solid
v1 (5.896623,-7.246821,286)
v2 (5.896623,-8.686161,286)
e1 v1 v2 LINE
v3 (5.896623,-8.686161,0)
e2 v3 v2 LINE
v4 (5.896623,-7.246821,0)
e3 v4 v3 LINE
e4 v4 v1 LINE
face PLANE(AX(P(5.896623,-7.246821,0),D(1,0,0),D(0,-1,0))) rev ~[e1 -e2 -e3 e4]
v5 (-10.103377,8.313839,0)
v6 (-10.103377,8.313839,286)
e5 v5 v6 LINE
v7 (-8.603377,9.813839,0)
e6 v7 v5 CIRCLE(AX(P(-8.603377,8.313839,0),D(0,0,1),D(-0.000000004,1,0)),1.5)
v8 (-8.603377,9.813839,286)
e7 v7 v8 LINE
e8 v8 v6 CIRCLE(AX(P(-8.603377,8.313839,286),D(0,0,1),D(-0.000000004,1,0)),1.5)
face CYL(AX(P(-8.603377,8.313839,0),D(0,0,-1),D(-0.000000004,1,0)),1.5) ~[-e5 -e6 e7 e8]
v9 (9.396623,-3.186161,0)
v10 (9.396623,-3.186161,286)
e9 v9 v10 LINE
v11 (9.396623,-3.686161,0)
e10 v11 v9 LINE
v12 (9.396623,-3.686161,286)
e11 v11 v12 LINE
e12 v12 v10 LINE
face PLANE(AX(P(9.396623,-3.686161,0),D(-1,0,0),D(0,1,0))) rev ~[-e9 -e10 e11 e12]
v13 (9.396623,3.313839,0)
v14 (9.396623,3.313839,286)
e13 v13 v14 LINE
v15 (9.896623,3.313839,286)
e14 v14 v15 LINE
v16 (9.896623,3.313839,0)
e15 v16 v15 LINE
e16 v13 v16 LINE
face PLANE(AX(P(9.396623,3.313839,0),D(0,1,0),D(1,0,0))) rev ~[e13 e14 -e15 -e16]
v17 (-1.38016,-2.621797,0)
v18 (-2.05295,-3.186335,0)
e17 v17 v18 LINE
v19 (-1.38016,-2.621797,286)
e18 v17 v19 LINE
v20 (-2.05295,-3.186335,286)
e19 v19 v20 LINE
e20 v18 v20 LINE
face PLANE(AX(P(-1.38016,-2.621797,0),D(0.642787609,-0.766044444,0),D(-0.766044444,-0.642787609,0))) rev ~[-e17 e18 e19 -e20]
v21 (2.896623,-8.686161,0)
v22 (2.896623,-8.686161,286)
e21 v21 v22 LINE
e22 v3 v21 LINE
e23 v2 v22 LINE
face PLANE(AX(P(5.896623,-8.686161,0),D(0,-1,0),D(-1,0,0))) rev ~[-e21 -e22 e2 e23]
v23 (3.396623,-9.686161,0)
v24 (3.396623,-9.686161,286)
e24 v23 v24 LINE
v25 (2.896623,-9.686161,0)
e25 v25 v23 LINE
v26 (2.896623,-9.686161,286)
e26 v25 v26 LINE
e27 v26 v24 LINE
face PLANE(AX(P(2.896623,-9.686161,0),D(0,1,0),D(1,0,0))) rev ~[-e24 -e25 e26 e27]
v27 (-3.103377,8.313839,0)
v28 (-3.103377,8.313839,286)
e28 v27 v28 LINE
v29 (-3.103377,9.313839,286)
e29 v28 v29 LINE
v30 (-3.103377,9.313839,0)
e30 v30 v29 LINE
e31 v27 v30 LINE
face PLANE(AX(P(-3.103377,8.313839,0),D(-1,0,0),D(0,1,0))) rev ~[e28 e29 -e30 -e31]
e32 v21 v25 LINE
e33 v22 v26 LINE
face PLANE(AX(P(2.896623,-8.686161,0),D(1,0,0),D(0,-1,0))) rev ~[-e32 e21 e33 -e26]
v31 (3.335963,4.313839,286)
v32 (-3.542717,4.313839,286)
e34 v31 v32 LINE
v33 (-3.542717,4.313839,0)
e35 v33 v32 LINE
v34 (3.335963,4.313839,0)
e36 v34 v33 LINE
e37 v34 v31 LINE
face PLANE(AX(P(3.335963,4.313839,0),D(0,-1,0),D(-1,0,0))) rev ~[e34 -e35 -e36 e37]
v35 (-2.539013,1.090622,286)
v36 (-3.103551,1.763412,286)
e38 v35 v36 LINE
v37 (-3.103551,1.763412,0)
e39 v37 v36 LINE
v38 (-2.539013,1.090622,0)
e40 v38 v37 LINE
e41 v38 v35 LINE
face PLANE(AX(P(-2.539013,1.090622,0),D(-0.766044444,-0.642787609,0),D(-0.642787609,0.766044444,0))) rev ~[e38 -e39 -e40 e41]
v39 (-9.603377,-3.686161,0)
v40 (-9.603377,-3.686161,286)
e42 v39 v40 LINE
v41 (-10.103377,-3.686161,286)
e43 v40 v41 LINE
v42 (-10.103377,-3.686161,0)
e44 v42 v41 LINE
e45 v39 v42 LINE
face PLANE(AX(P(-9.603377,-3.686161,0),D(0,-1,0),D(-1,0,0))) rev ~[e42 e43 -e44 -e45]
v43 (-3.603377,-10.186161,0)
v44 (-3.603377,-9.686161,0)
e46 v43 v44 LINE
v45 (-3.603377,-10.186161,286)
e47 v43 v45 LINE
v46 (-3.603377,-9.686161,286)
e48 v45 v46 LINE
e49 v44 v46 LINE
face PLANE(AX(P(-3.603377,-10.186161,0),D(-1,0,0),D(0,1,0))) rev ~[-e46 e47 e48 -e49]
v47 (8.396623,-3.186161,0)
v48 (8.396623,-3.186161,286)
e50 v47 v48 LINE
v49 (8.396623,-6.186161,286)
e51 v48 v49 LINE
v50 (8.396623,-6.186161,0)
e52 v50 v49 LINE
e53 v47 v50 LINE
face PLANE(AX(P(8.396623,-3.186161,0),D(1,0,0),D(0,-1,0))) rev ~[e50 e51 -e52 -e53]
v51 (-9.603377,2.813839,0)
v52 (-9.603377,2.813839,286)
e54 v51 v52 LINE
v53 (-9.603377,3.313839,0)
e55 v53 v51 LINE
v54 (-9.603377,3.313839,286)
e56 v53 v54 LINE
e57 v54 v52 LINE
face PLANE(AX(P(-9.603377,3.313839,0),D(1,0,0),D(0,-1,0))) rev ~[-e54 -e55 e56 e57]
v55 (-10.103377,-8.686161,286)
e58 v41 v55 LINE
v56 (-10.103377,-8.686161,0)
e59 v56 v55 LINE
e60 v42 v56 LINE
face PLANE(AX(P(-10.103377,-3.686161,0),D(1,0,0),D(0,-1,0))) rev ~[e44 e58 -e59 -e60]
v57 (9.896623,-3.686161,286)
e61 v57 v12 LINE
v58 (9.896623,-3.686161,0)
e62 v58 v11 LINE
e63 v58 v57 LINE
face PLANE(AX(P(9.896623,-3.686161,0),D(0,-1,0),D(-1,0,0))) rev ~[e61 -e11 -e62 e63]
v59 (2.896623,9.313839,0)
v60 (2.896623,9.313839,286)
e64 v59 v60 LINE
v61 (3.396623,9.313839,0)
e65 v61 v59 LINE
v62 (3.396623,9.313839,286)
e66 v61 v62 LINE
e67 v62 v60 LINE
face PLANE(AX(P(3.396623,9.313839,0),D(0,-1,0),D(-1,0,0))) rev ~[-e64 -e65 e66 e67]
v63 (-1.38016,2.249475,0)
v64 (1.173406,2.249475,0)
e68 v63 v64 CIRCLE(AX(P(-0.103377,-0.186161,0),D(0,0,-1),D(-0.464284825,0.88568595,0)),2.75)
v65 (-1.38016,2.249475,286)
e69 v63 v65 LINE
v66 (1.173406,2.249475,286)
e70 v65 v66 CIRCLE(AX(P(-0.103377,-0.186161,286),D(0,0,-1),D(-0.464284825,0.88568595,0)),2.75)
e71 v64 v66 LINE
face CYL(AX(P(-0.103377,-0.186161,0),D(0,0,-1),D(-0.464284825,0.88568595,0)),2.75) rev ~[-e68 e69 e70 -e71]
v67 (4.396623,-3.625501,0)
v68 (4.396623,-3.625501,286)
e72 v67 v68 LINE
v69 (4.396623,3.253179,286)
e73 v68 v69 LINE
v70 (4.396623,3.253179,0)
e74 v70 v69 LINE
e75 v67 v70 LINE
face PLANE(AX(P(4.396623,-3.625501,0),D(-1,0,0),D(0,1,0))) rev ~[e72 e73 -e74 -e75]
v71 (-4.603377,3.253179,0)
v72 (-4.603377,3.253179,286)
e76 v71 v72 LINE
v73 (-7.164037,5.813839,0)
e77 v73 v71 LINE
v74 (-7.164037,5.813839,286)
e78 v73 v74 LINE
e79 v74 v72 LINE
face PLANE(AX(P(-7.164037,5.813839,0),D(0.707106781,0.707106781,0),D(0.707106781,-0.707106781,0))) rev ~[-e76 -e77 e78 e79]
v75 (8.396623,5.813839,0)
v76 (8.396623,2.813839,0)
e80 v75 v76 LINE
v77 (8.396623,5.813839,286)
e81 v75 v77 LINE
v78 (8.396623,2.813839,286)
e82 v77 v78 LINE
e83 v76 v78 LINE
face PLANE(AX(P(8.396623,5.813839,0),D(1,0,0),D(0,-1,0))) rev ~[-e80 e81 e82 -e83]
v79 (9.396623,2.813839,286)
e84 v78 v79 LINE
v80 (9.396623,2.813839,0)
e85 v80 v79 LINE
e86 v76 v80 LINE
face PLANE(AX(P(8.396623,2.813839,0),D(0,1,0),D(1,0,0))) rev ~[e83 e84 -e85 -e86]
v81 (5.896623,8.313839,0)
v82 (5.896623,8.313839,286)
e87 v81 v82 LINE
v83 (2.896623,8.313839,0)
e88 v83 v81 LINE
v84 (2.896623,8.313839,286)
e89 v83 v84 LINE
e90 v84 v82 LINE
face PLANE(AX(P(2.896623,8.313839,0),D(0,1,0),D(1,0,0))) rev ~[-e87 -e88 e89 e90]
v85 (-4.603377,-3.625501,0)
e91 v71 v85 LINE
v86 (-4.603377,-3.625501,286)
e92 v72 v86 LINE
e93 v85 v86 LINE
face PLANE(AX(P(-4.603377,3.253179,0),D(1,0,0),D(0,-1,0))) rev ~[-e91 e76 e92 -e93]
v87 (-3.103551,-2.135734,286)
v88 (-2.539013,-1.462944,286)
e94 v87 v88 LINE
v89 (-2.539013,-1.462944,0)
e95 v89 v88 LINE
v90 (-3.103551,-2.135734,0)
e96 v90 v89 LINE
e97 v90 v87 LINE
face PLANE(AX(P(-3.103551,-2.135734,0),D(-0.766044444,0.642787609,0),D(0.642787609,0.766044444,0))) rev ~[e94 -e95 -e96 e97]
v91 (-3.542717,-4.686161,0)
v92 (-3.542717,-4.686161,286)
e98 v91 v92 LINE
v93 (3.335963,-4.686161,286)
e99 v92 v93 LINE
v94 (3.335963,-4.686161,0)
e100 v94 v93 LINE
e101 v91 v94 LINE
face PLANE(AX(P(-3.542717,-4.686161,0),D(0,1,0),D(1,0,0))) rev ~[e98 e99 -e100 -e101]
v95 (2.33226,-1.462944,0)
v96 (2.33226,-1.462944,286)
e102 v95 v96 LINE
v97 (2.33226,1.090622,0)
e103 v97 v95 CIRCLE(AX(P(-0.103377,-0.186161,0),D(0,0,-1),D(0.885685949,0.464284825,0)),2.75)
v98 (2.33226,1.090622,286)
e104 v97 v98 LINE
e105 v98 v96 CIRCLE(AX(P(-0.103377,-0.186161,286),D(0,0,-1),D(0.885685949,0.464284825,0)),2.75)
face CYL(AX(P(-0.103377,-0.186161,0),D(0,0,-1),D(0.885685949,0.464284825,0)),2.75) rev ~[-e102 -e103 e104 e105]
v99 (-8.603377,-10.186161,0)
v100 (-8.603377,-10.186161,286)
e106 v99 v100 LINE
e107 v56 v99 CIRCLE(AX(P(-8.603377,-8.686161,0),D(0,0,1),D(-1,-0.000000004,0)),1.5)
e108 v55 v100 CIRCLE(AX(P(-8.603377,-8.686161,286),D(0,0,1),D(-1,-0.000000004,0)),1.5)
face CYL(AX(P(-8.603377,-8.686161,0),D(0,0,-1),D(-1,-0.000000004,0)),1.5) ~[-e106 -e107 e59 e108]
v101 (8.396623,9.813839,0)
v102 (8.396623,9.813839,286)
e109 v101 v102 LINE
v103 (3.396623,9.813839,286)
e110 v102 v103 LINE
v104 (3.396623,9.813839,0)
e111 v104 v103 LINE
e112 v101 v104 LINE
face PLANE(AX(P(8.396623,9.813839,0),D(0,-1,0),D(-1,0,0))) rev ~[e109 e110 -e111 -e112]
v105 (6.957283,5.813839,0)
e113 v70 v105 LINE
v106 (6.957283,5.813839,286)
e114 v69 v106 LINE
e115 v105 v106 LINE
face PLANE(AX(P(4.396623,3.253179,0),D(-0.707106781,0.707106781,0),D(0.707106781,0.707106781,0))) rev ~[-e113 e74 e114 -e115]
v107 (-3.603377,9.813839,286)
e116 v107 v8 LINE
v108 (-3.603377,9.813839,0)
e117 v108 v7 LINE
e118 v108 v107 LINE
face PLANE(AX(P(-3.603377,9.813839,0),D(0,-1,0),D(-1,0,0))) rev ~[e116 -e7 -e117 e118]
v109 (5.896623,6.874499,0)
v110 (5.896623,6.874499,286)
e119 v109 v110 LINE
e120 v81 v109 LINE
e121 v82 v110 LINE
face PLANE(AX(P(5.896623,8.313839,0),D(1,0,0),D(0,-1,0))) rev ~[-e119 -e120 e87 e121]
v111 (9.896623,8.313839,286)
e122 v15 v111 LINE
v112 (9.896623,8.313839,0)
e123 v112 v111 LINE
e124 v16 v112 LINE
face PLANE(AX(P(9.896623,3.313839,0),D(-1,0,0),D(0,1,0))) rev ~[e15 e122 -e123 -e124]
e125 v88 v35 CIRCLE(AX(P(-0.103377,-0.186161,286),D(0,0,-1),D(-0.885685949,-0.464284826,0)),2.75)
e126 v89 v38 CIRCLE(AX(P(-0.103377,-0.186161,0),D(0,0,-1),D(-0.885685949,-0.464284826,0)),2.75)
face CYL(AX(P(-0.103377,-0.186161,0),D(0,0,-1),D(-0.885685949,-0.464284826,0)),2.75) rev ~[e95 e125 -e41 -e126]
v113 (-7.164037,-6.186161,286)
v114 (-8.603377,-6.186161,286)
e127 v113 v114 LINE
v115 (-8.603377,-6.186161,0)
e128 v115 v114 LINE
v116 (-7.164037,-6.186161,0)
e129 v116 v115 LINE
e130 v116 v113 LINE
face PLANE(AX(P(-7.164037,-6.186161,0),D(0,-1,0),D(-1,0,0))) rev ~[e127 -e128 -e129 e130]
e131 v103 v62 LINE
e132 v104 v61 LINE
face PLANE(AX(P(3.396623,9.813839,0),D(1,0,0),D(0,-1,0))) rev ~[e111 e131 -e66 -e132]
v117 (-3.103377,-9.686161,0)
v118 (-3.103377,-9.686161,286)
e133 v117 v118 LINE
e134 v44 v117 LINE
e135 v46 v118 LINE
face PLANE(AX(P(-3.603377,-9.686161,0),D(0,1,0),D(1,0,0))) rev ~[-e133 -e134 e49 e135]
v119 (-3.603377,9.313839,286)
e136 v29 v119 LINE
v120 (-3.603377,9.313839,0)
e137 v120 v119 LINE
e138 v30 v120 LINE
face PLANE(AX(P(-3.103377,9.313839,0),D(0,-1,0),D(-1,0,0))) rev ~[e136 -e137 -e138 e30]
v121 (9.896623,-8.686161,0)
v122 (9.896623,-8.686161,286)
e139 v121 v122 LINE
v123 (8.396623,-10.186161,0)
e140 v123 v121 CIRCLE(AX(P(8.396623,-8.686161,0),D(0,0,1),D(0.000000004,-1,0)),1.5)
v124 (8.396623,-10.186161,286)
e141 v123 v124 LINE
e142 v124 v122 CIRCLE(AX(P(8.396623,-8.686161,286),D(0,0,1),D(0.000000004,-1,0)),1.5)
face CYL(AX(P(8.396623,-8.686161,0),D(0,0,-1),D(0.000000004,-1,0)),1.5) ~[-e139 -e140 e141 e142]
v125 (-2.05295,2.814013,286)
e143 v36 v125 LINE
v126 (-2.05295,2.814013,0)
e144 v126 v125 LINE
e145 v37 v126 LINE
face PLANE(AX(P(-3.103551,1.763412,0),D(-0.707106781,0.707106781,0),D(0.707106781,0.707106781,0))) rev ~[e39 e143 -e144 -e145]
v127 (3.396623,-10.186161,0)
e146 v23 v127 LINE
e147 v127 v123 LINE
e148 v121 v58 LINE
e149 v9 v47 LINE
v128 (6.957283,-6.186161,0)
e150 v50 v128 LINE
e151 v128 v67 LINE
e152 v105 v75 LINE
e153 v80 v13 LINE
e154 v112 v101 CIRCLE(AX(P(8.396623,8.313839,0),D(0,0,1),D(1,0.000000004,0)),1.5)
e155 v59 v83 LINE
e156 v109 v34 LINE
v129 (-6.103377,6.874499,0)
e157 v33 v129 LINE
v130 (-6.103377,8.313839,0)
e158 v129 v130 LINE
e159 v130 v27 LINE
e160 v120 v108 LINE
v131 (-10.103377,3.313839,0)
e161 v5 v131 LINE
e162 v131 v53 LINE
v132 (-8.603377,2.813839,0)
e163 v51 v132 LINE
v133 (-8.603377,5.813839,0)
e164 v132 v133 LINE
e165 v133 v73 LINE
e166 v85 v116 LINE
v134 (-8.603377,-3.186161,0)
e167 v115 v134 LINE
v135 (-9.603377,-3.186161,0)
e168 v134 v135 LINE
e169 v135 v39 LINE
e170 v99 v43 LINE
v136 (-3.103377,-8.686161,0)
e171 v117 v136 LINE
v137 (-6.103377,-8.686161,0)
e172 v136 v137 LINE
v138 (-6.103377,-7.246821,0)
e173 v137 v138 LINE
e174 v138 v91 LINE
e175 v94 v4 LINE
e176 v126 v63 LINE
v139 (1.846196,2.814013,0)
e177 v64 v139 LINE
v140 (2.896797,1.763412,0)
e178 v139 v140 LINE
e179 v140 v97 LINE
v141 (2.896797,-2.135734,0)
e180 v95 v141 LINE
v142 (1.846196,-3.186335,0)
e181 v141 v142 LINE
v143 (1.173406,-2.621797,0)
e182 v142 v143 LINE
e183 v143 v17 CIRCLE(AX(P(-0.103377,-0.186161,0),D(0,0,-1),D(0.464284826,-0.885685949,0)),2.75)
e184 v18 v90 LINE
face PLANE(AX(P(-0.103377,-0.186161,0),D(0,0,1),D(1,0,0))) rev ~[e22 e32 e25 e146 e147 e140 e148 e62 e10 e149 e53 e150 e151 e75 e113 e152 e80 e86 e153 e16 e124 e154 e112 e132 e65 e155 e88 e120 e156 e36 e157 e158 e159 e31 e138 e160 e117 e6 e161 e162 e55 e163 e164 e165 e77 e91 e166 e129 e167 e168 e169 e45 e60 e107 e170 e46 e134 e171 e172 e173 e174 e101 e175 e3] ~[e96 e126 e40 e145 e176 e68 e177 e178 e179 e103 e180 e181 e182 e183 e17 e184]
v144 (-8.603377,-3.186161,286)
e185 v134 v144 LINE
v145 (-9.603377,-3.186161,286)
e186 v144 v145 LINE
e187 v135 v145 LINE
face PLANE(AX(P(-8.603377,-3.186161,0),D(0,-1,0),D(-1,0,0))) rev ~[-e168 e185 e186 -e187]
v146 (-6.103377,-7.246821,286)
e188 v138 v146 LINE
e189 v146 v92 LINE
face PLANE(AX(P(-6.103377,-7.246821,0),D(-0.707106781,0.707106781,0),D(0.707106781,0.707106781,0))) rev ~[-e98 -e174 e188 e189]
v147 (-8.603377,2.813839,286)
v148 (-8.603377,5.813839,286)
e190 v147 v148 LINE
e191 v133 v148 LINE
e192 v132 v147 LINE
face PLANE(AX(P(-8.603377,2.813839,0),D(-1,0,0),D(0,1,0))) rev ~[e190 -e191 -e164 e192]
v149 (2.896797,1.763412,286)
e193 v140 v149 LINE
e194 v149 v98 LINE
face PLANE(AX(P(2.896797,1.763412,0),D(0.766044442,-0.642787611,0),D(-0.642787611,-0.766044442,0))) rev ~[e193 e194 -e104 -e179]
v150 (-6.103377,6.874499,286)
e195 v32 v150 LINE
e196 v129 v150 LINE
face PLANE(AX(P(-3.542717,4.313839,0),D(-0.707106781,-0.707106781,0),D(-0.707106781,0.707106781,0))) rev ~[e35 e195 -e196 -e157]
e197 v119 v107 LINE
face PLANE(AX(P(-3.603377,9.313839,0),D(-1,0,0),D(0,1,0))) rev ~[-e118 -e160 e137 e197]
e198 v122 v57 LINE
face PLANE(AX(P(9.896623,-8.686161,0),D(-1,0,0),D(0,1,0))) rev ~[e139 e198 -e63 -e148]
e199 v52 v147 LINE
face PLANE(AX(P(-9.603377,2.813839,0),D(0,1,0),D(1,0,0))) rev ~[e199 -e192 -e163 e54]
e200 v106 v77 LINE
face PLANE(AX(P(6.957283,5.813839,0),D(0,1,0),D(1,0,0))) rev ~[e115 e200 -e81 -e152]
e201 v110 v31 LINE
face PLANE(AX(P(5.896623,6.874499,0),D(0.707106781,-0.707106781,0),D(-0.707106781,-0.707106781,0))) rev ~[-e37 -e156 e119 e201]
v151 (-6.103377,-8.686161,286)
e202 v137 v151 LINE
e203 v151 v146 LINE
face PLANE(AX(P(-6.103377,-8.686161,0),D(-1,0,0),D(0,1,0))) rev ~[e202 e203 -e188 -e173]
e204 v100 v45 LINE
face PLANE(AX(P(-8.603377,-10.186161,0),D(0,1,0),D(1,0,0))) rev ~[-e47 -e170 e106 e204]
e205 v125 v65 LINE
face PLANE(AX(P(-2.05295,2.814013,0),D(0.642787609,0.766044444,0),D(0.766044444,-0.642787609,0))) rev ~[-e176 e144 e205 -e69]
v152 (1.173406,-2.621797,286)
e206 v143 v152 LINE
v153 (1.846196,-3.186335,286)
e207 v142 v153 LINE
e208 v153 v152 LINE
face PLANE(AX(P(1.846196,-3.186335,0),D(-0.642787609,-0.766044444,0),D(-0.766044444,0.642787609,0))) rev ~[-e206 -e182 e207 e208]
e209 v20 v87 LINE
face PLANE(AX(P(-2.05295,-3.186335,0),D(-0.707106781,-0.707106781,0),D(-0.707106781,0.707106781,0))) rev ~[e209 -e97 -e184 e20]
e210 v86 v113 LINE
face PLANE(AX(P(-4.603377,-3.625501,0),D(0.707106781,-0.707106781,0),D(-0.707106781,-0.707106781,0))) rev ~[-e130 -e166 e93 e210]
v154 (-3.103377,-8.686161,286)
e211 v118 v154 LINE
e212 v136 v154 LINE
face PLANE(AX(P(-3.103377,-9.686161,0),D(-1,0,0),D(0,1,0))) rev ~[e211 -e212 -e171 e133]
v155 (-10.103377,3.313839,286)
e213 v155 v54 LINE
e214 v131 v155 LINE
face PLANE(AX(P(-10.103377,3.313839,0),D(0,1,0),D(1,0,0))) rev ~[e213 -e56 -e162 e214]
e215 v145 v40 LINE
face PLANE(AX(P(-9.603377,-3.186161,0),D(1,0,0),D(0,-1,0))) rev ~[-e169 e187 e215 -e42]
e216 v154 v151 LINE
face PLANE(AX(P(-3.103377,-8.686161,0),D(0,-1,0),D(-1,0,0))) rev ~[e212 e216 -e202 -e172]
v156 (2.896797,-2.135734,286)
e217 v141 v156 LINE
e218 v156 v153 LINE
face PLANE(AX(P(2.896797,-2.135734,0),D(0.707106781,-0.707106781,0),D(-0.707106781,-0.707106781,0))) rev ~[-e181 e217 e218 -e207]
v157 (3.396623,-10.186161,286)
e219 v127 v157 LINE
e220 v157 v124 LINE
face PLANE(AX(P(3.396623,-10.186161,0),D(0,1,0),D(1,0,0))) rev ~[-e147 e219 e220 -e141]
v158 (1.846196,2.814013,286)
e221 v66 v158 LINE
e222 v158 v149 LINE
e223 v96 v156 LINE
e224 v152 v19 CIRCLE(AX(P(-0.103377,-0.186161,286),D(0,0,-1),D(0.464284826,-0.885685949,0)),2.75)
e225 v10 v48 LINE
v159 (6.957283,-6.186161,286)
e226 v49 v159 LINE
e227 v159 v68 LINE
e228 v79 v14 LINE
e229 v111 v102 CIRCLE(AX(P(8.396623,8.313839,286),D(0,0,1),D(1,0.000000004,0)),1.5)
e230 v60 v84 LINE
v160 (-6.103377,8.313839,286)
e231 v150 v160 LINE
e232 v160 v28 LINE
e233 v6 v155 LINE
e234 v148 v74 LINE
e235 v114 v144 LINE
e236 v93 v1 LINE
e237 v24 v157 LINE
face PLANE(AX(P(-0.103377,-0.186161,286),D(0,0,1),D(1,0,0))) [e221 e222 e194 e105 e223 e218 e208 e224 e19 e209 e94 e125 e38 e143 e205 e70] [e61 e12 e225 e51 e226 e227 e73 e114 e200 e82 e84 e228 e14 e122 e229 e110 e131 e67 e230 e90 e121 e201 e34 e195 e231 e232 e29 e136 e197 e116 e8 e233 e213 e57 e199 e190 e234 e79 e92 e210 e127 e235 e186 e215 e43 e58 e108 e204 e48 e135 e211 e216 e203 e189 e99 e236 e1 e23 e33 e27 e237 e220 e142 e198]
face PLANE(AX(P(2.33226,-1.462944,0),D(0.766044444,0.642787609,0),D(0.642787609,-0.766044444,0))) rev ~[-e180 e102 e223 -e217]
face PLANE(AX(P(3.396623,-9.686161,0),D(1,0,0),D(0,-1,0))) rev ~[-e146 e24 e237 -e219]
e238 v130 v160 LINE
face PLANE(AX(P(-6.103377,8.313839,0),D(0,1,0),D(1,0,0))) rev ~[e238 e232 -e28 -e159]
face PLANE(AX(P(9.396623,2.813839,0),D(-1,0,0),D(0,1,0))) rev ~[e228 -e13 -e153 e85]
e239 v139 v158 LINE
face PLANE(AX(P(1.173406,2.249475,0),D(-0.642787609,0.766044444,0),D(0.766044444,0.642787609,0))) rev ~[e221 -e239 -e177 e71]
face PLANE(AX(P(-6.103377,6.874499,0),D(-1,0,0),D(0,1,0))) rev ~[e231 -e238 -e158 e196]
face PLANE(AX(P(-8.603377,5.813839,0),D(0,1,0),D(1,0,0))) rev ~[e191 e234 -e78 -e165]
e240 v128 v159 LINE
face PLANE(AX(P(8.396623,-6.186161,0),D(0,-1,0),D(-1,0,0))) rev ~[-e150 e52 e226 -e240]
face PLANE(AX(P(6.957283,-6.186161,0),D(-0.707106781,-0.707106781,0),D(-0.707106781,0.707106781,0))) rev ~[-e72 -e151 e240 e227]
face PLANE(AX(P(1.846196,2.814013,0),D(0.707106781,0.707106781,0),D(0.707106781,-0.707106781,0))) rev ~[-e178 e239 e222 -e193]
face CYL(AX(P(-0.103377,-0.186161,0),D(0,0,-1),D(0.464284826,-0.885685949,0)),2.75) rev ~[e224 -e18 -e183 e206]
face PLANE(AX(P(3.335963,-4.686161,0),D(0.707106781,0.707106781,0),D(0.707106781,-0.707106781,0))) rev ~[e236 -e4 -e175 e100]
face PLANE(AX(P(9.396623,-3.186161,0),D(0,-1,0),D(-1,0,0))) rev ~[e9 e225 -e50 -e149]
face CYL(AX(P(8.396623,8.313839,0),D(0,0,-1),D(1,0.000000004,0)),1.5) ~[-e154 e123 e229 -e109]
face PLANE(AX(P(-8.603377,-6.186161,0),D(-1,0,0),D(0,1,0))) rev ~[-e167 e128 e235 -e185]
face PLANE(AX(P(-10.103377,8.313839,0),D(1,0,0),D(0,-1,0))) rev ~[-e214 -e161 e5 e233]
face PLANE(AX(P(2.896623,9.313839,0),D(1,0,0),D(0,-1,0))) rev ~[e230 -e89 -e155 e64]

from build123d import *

# Parameters (mm, degrees)
AUFSATZ_LINEAR_AUSTRAGEN1_DEPTH = 286


with BuildPart() as part:
    # Skizze1 → Aufsatz-Linear austragen1 (new body)
    with BuildSketch(Plane.XY):
        with BuildLine():
            Line((9.896623228, -8.686160957), (9.896623228, -3.686160957))
            Line((9.896623228, -3.686160957), (9.396623228, -3.686160957))
            Line((9.396623228, -3.686160957), (9.396623228, -3.186160957))
            Line((9.396623228, -3.186160957), (8.396623228, -3.186160957))
            Line((8.396623228, -3.186160957), (8.396623228, -6.186160957))
            Line((8.396623228, -6.186160957), (6.957283398, -6.186160957))
            Line((6.957283398, -6.186160957), (4.396623228, -3.625500787))
            Line((4.396623228, -3.625500787), (4.396623228, 3.253178873))
            Line((4.396623228, 3.253178873), (6.957283398, 5.813839043))
            Line((6.957283398, 5.813839043), (8.396623228, 5.813839043))
            Line((8.396623228, 5.813839043), (8.396623228, 2.813839043))
            Line((8.396623228, 2.813839043), (9.396623228, 2.813839043))
            Line((9.396623228, 2.813839043), (9.396623228, 3.313839043))
            Line((9.396623228, 3.313839043), (9.896623228, 3.313839043))
            Line((9.896623228, 3.313839043), (9.896623228, 8.313839043))
            ThreePointArc((9.896623228, 8.313839043), (9.457283398, 9.374499213), (8.396623228, 9.813839043))
            Line((8.396623228, 9.813839043), (3.396623228, 9.813839043))
            Line((3.396623228, 9.813839043), (3.396623228, 9.313839043))
            Line((3.396623228, 9.313839043), (2.896623228, 9.313839043))
            Line((2.896623228, 9.313839043), (2.896623228, 8.313839043))
            Line((2.896623228, 8.313839043), (5.896623228, 8.313839043))
            Line((5.896623228, 8.313839043), (5.896623228, 6.874499213))
            Line((5.896623228, 6.874499213), (3.335963058, 4.313839043))
            Line((3.335963058, 4.313839043), (-3.542716602, 4.313839043))
            Line((-3.542716602, 4.313839043), (-6.103376772, 6.874499213))
            Line((-6.103376772, 6.874499213), (-6.103376772, 8.313839043))
            Line((-6.103376772, 8.313839043), (-3.103376772, 8.313839043))
            Line((-3.103376772, 8.313839043), (-3.103376772, 9.313839043))
            Line((-3.103376772, 9.313839043), (-3.603376772, 9.313839043))
            Line((-3.603376772, 9.313839043), (-3.603376772, 9.813839043))
            Line((-3.603376772, 9.813839043), (-8.603376772, 9.813839043))
            ThreePointArc((-8.603376772, 9.813839043), (-9.664036942, 9.374499213), (-10.103376772, 8.313839043))
            Line((-10.103376772, 8.313839043), (-10.103376772, 3.313839043))
            Line((-10.103376772, 3.313839043), (-9.603376772, 3.313839043))
            Line((-9.603376772, 3.313839043), (-9.603376772, 2.813839043))
            Line((-9.603376772, 2.813839043), (-8.603376772, 2.813839043))
            Line((-8.603376772, 2.813839043), (-8.603376772, 5.813839043))
            Line((-8.603376772, 5.813839043), (-7.164036942, 5.813839043))
            Line((-7.164036942, 5.813839043), (-4.603376772, 3.253178873))
            Line((-4.603376772, 3.253178873), (-4.603376772, -3.625500787))
            Line((-4.603376772, -3.625500787), (-7.164036942, -6.186160957))
            Line((-7.164036942, -6.186160957), (-8.603376772, -6.186160957))
            Line((-8.603376772, -6.186160957), (-8.603376772, -3.186160957))
            Line((-8.603376772, -3.186160957), (-9.603376772, -3.186160957))
            Line((-9.603376772, -3.186160957), (-9.603376772, -3.686160957))
            Line((-9.603376772, -3.686160957), (-10.103376772, -3.686160957))
            Line((-10.103376772, -3.686160957), (-10.103376772, -8.686160957))
            ThreePointArc((-10.103376772, -8.686160957), (-9.664036942, -9.746821127), (-8.603376772, -10.186160957))
            Line((-8.603376772, -10.186160957), (-3.603376772, -10.186160957))
            Line((-3.603376772, -10.186160957), (-3.603376772, -9.686160957))
            Line((-3.603376772, -9.686160957), (-3.103376772, -9.686160957))
            Line((-3.103376772, -9.686160957), (-3.103376772, -8.686160957))
            Line((-3.103376772, -8.686160957), (-6.103376772, -8.686160957))
            Line((-6.103376772, -8.686160957), (-6.103376772, -7.246821127))
            Line((-6.103376772, -7.246821127), (-3.542716602, -4.686160957))
            Line((-3.542716602, -4.686160957), (3.335963058, -4.686160957))
            Line((3.335963058, -4.686160957), (5.896623228, -7.246821127))
            Line((5.896623228, -7.246821127), (5.896623228, -8.686160957))
            Line((5.896623228, -8.686160957), (2.896623228, -8.686160957))
            Line((2.896623228, -8.686160957), (2.896623228, -9.686160957))
            Line((2.896623228, -9.686160957), (3.396623228, -9.686160957))
            Line((3.396623228, -9.686160957), (3.396623228, -10.186160957))
            Line((3.396623228, -10.186160957), (8.396623228, -10.186160957))
            ThreePointArc((8.396623228, -10.186160957), (9.457283398, -9.746821127), (9.896623228, -8.686160957))
        make_face()
        with BuildLine():
            Line((-2.539013132, 1.090622313), (-3.103550972, 1.763412313))
            Line((-3.103550972, 1.763412313), (-2.052950042, 2.814013243))
            Line((-2.052950042, 2.814013243), (-1.380160042, 2.249475403))
            ThreePointArc((-1.380160042, 2.249475403), (-0.103376772, 2.563839041), (1.173406498, 2.249475399))
            Line((1.173406498, 2.249475399), (1.846196498, 2.814013239))
            Line((1.846196498, 2.814013239), (2.896797428, 1.763412309))
            Line((2.896797428, 1.763412309), (2.332259586, 1.09062231))
            ThreePointArc((2.332259586, 1.09062231), (2.646623225, -0.186160958), (2.332259587, -1.462944226))
            Line((2.332259587, -1.462944226), (2.896797427, -2.135734226))
            Line((2.896797427, -2.135734226), (1.846196497, -3.186335156))
            Line((1.846196497, -3.186335156), (1.173406497, -2.621797316))
            ThreePointArc((1.173406497, -2.621797316), (-0.103376773, -2.936160957), (-1.380160043, -2.62179732))
            Line((-1.380160043, -2.62179732), (-2.052950043, -3.18633516))
            Line((-2.052950043, -3.18633516), (-3.103550973, -2.13573423))
            Line((-3.103550973, -2.13573423), (-2.539013133, -1.46294423))
            ThreePointArc((-2.539013133, -1.46294423), (-2.853376773, -0.186160958), (-2.539013132, 1.090622313))
        make_face(mode=Mode.SUBTRACT)
    extrude(amount=AUFSATZ_LINEAR_AUSTRAGEN1_DEPTH)


solid = part.part
